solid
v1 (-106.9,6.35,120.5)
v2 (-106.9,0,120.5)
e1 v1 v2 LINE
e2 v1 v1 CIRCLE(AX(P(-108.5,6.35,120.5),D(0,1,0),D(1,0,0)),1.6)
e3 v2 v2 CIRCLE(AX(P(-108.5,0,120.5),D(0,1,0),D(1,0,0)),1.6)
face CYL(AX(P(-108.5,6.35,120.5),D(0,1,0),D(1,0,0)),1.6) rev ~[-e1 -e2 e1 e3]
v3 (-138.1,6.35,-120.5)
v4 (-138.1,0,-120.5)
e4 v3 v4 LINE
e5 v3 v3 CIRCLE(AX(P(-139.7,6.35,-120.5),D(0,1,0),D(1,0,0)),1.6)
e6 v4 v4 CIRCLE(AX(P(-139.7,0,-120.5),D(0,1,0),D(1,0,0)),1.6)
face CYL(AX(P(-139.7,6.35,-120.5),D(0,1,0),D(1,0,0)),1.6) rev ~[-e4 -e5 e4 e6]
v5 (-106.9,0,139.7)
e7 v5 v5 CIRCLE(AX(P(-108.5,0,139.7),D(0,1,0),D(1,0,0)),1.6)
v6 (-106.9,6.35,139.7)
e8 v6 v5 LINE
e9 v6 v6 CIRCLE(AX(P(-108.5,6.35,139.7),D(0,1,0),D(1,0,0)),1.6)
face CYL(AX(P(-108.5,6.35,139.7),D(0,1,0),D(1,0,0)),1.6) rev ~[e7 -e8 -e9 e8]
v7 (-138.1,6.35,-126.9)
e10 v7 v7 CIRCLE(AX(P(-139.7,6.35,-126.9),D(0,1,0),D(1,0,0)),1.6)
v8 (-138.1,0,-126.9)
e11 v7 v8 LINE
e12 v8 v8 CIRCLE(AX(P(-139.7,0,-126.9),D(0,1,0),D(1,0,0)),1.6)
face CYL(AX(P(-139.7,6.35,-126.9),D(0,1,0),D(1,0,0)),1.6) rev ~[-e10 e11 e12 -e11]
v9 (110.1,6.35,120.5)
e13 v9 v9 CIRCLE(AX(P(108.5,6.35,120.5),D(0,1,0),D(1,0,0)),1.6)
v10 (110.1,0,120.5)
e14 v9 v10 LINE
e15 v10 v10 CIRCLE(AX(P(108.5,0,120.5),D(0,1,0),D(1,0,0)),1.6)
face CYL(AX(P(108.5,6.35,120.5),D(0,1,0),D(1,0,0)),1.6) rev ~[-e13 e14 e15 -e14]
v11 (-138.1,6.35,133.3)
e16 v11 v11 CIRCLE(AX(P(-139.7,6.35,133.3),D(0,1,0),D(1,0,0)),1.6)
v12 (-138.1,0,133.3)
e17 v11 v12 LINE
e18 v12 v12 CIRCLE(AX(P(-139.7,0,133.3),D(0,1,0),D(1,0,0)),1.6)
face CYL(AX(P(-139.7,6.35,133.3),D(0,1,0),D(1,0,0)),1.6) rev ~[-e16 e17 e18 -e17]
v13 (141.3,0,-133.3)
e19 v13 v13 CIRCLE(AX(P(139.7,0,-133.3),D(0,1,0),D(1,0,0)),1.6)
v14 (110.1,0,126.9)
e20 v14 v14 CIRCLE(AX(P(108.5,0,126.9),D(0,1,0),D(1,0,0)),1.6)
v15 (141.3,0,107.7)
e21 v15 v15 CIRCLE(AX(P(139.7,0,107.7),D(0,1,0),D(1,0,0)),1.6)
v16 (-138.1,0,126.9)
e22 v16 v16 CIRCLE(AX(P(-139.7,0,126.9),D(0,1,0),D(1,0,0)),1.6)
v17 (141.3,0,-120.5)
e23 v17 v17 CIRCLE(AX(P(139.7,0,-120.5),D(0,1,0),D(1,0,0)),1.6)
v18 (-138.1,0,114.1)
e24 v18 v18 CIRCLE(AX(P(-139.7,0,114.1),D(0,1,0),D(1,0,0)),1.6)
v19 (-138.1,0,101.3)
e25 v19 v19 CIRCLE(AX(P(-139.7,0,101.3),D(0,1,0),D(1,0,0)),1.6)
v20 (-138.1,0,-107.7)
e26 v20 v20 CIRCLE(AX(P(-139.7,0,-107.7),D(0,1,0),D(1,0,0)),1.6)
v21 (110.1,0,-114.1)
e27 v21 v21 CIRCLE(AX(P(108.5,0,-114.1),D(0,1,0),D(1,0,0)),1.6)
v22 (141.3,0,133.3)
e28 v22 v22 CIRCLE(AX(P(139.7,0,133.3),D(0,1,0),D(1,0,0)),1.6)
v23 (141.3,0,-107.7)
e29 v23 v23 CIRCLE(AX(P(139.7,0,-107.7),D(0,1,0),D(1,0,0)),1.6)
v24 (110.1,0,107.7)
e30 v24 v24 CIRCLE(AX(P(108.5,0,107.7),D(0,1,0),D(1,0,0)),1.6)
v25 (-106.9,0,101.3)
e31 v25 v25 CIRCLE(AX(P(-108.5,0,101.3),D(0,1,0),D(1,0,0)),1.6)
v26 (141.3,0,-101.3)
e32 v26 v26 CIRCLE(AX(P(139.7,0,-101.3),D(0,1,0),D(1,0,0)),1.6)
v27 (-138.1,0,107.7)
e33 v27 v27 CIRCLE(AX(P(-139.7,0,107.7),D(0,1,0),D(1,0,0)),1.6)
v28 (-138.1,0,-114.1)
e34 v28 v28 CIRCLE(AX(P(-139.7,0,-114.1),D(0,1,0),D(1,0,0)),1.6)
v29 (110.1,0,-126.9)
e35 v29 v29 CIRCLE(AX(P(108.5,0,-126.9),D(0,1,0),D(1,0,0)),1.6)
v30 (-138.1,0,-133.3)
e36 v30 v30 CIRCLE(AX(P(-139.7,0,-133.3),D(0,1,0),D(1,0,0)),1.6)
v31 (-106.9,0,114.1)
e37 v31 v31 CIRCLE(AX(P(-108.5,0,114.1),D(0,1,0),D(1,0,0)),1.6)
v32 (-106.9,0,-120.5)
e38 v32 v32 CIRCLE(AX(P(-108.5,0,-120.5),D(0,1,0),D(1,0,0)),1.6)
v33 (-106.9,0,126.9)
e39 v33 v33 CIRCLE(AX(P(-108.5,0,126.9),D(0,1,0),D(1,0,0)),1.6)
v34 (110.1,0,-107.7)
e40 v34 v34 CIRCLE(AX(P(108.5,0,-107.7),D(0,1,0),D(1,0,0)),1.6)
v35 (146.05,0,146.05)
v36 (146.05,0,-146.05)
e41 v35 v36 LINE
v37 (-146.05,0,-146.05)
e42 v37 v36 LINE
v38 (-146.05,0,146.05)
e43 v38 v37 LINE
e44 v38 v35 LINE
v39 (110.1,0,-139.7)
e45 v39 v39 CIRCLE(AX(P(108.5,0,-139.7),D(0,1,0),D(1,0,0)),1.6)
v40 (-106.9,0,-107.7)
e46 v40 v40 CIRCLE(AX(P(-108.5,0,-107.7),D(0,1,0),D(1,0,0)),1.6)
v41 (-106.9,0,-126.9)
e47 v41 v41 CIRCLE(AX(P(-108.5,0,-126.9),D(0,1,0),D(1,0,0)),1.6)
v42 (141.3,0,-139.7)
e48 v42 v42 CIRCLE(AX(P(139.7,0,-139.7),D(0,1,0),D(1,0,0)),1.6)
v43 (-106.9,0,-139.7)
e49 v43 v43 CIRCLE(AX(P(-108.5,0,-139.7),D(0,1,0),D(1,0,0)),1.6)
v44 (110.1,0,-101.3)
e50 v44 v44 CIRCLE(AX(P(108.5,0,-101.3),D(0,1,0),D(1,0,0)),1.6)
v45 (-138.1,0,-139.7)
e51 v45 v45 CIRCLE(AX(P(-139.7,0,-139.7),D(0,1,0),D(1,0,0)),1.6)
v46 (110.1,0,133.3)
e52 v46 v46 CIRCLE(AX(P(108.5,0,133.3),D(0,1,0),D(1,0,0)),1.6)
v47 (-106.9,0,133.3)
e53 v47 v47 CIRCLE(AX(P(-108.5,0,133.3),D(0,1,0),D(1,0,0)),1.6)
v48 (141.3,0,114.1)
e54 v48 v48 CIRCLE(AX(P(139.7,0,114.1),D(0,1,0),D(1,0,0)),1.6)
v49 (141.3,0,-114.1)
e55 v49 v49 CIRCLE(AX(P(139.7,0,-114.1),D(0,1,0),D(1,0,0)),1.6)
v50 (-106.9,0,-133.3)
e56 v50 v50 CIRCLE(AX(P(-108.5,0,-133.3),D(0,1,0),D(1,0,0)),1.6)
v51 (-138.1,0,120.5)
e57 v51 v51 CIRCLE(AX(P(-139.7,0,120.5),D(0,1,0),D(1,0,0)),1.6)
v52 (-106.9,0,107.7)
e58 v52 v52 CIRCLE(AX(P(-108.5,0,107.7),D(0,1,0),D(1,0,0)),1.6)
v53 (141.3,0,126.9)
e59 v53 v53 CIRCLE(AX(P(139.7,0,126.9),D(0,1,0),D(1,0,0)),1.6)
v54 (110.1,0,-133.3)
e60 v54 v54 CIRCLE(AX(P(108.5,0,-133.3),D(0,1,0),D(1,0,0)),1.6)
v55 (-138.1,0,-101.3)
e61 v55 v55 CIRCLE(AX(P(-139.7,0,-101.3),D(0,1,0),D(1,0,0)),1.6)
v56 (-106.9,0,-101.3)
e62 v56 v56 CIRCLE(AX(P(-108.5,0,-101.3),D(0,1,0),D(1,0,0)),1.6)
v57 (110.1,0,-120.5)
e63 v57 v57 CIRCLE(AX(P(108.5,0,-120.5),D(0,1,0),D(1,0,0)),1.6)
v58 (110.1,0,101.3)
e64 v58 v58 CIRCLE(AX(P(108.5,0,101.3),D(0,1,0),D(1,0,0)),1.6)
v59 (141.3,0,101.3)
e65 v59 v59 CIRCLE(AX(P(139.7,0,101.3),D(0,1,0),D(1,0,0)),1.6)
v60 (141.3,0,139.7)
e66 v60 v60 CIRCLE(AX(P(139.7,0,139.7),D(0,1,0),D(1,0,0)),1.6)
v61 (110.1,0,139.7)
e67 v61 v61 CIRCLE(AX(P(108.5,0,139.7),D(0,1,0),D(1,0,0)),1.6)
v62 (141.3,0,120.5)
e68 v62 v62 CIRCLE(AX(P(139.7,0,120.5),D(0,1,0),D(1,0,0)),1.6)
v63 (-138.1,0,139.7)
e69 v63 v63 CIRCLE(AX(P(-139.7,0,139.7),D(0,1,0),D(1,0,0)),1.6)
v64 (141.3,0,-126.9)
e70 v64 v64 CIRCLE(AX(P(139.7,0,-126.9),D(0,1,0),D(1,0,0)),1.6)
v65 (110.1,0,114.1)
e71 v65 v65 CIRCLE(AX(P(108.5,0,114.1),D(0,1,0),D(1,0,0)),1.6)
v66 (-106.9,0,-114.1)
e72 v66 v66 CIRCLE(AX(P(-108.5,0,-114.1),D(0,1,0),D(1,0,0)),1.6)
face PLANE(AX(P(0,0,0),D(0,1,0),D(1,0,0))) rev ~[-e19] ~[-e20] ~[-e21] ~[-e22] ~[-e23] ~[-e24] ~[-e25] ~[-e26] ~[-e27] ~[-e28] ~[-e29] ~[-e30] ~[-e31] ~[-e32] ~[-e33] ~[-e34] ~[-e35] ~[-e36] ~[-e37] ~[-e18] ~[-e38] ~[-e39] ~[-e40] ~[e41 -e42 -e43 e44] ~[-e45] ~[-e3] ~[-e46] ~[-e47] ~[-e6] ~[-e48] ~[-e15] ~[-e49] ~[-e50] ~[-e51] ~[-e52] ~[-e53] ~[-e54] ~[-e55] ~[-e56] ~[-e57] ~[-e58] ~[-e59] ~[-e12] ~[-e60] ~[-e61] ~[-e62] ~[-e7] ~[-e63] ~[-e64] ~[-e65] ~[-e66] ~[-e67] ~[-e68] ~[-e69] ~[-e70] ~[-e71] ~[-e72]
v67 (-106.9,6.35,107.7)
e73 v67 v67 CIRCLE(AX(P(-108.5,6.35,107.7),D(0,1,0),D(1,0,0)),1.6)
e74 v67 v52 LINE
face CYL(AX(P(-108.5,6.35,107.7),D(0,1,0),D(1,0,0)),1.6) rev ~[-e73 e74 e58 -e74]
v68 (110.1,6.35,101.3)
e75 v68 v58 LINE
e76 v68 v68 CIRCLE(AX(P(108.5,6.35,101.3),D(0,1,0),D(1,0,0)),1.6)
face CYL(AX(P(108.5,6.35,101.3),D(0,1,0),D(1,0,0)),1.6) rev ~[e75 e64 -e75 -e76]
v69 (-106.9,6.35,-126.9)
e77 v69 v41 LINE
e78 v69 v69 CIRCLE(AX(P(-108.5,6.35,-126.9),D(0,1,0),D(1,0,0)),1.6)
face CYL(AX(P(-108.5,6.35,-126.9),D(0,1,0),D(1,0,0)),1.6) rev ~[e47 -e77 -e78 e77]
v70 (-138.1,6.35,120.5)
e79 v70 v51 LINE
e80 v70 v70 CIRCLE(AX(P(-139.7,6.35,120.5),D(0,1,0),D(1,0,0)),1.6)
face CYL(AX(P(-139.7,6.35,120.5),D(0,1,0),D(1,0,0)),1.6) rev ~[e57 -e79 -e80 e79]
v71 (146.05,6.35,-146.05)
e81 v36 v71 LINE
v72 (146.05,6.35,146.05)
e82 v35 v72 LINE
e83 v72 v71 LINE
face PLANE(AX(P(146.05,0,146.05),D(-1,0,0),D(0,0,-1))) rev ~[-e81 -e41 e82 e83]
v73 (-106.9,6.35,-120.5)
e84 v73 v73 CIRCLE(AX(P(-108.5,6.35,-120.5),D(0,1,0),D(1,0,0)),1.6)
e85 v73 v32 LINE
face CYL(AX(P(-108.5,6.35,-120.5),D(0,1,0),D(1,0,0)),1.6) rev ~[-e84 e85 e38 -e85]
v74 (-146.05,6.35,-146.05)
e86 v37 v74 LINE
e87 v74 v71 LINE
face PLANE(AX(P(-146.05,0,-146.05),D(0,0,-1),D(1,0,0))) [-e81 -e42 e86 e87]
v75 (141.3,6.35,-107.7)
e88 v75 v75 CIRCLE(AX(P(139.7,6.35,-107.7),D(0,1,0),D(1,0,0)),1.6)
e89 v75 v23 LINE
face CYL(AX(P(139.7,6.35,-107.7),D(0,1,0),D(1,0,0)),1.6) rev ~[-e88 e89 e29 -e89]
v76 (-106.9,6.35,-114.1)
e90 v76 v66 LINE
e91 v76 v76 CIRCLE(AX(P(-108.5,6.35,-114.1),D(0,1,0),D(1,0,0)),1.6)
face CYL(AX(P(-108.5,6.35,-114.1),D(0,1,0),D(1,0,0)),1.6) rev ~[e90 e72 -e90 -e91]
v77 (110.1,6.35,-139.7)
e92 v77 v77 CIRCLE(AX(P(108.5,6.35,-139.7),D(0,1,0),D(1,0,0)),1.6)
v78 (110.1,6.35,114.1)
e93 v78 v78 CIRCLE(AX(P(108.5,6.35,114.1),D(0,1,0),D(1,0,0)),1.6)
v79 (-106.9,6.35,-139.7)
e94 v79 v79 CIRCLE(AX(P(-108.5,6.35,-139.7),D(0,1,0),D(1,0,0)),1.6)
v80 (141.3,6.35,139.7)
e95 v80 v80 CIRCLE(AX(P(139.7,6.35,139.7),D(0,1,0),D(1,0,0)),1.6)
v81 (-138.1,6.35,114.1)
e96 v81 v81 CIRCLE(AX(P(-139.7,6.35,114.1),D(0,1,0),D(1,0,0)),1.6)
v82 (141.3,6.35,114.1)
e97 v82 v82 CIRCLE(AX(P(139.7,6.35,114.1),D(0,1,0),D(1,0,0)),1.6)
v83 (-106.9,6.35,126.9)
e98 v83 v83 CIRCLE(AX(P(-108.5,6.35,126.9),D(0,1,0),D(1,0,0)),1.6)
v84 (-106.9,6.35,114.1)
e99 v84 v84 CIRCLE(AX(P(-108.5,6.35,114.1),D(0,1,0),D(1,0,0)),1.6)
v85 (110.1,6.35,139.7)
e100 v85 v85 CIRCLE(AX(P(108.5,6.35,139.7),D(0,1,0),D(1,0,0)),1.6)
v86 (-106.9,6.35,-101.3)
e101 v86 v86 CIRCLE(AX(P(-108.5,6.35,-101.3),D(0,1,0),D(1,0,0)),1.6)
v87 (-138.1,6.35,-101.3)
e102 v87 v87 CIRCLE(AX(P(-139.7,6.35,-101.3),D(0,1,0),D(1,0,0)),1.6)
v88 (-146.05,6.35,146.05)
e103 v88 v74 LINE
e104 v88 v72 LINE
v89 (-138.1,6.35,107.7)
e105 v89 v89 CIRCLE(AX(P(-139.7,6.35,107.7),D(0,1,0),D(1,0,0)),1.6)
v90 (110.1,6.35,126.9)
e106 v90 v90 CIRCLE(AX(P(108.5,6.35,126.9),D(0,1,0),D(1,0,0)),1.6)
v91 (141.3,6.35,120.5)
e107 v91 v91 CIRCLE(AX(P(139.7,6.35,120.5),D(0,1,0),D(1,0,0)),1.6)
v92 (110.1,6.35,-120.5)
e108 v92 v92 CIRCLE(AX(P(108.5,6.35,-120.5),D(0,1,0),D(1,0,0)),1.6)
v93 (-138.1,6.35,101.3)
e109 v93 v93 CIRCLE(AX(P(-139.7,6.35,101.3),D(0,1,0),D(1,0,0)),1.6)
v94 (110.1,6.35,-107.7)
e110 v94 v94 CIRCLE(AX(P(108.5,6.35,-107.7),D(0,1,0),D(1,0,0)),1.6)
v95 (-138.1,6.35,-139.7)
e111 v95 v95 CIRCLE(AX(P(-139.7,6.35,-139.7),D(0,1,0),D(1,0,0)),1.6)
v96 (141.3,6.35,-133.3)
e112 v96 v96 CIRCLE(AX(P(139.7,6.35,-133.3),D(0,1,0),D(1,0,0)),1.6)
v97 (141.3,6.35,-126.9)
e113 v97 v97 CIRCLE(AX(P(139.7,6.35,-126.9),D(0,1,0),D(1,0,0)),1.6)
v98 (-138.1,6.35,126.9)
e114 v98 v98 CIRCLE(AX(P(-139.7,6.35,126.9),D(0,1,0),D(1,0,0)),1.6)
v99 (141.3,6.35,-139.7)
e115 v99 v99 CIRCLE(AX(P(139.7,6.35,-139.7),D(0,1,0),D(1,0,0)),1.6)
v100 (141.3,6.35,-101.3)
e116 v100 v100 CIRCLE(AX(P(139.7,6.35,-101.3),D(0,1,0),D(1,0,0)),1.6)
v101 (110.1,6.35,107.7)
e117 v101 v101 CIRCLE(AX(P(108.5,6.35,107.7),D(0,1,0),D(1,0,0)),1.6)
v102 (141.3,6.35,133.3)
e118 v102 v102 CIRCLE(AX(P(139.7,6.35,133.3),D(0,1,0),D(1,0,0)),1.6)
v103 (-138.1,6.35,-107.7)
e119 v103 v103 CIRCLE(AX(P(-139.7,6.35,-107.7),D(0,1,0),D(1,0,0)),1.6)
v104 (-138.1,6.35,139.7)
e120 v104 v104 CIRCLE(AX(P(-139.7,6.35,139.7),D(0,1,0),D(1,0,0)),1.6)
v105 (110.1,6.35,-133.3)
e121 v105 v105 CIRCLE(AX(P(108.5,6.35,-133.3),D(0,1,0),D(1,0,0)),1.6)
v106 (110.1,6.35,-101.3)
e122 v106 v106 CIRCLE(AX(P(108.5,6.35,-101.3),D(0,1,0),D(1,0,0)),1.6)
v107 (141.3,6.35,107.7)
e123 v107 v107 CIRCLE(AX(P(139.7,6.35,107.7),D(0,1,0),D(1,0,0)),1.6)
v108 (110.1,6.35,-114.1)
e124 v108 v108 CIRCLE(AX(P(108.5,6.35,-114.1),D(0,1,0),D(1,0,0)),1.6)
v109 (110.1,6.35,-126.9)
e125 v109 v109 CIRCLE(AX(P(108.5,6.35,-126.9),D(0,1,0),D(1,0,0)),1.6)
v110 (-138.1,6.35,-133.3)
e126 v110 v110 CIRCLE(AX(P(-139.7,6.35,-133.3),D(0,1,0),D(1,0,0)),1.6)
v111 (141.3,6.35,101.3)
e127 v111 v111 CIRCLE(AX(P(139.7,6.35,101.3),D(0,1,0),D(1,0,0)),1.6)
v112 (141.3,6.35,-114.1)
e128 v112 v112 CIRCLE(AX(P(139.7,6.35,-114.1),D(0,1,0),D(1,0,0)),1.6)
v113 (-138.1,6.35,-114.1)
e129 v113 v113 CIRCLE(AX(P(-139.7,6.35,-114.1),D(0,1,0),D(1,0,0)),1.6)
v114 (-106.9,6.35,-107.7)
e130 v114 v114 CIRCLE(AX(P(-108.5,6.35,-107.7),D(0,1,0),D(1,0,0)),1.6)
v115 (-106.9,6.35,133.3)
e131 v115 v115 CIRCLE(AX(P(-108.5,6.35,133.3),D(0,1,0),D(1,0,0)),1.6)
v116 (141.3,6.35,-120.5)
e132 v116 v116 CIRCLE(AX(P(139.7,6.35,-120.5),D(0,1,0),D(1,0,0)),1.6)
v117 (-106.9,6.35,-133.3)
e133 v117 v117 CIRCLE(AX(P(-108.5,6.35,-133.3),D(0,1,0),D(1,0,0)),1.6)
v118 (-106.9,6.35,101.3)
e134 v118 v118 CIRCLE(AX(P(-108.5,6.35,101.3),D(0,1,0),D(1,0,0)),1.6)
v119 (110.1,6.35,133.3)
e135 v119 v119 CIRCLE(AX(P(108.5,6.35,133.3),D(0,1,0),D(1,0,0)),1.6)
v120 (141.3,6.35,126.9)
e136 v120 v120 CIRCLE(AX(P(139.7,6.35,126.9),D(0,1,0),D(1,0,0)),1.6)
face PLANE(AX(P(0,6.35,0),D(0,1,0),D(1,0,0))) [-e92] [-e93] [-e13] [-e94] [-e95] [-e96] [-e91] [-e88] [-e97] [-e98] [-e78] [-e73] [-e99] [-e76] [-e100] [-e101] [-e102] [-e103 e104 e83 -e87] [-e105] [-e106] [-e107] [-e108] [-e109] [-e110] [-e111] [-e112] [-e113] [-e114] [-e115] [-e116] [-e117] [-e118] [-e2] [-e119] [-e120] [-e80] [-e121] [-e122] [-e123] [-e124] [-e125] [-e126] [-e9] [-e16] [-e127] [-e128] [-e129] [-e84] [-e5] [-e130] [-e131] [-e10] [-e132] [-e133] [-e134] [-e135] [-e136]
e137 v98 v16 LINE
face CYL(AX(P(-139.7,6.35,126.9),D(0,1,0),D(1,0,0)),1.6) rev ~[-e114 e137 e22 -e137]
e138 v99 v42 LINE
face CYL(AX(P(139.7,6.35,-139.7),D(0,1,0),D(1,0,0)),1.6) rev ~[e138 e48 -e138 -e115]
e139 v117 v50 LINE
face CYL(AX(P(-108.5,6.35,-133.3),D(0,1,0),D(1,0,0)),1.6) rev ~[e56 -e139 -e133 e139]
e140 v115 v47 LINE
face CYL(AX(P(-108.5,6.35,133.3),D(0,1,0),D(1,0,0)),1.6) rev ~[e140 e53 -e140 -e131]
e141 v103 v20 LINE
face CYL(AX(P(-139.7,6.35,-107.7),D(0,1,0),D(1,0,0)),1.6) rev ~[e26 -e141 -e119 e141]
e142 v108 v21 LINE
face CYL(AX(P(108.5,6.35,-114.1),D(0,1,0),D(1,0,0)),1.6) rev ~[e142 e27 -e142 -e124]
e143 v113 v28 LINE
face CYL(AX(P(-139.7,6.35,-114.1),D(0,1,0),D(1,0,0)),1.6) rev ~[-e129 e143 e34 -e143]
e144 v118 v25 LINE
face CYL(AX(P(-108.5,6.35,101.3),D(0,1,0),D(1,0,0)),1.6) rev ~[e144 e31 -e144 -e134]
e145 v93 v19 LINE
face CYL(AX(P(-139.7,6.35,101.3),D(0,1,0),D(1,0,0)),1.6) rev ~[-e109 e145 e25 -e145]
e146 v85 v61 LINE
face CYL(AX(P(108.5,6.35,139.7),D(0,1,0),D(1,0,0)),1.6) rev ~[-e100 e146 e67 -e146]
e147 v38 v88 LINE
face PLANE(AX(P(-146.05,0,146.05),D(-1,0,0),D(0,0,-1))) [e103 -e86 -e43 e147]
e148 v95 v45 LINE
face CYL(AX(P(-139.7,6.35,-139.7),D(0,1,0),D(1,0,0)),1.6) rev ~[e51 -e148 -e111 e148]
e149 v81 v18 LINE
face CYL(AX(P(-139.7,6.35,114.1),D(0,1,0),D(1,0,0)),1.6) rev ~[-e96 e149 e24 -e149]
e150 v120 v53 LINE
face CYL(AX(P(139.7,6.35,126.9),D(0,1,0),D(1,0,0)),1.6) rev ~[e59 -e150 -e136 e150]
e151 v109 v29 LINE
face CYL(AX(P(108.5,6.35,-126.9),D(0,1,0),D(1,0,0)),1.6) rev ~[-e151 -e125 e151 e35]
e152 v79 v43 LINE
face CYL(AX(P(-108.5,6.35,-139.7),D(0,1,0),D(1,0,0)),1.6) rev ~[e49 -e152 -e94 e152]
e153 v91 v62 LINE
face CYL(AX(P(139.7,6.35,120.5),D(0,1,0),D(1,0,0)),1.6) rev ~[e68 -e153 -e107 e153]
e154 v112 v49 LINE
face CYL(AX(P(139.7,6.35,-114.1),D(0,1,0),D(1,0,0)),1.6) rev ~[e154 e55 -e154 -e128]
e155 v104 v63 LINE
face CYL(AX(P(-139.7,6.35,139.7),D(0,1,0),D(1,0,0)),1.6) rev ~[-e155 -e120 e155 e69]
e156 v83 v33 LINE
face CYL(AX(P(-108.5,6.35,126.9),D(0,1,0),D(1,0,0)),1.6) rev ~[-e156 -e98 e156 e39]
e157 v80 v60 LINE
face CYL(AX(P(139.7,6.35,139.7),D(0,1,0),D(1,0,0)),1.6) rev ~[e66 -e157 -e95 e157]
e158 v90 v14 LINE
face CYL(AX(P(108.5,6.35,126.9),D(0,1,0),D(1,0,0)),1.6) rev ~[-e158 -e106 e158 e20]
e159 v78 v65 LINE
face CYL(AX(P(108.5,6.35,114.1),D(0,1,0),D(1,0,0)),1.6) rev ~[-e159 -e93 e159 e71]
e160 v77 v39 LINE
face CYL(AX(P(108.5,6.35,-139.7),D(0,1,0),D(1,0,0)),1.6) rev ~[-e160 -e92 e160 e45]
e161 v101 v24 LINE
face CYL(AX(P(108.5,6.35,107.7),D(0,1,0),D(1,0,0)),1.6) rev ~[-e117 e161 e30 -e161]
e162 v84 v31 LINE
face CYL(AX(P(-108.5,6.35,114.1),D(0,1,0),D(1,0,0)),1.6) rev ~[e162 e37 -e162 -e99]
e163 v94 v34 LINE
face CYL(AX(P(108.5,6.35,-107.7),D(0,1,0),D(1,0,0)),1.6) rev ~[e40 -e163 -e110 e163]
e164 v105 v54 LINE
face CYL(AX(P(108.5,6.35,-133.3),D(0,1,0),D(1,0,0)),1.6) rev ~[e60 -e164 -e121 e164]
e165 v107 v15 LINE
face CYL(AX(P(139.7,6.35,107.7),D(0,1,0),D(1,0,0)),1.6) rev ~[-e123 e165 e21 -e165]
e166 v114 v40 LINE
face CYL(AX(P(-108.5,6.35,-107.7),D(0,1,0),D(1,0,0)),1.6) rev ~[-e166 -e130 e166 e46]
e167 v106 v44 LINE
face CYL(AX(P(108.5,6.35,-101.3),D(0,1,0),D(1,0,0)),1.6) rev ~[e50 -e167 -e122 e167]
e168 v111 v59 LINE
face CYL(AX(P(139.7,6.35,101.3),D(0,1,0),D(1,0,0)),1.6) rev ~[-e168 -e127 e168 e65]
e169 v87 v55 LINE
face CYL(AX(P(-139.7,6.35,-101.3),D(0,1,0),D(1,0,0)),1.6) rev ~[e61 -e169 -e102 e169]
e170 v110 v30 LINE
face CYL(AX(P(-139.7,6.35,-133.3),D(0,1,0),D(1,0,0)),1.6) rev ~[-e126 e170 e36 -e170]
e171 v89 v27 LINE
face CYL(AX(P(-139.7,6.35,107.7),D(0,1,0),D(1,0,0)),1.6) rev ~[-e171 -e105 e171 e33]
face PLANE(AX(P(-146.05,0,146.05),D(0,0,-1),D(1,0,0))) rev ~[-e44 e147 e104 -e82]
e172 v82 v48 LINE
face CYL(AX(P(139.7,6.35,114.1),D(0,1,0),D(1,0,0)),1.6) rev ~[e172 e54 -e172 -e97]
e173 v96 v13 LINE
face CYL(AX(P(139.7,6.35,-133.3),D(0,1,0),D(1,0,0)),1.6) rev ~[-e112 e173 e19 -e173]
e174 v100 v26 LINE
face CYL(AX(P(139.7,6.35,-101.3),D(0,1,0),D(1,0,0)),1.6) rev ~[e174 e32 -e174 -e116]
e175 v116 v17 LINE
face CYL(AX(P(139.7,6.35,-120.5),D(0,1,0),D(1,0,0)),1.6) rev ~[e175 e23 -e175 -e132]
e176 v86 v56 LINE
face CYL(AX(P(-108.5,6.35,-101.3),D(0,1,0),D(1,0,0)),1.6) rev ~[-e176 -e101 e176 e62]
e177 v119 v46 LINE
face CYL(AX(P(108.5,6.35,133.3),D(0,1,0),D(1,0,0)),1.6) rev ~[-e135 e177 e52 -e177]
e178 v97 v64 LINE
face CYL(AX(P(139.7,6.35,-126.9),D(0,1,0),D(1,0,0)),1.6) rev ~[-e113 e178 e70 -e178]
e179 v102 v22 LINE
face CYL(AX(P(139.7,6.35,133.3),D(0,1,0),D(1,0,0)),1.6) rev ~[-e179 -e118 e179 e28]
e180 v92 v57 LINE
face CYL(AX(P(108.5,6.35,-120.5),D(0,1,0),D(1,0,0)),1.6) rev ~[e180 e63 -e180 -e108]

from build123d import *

# Parameters (mm, degrees)
SKETCH1_W           = 292.1
SKETCH1_H           = 292.1
BOSS_EXTRUDE1_DEPTH = 6.35
SKETCH2_R           = 1.6
CUT_EXTRUDE2_DEPTH  = 7.35


with BuildPart() as part:
    # Sketch1 → Boss-Extrude1 (new body)
    with BuildSketch(Plane(origin=(0, 0, 0), x_dir=(1, 0, 0), z_dir=(0, 1, 0))):
        Rectangle(SKETCH1_W, SKETCH1_H)
    extrude(amount=BOSS_EXTRUDE1_DEPTH)

    # Sketch2 → Cut-Extrude2 (cut, through all)
    with BuildSketch(Plane(origin=(0, 6.35, 0), x_dir=(1, 0, 0), z_dir=(0, 1, 0))):
        with Locations((-139.7, -139.7)):
            Circle(SKETCH2_R)
        with Locations((-139.7, -133.3)):
            Circle(SKETCH2_R)
        with Locations((-139.7, -126.9)):
            Circle(SKETCH2_R)
        with Locations((-139.7, -120.5)):
            Circle(SKETCH2_R)
        with Locations((-139.7, -114.1)):
            Circle(SKETCH2_R)
        with Locations((-139.7, -107.7)):
            Circle(SKETCH2_R)
        with Locations((-139.7, -101.3)):
            Circle(SKETCH2_R)
        with Locations((-139.7, 101.3)):
            Circle(SKETCH2_R)
        with Locations((-139.7, 107.7)):
            Circle(SKETCH2_R)
        with Locations((-139.7, 114.1)):
            Circle(SKETCH2_R)
        with Locations((-139.7, 120.5)):
            Circle(SKETCH2_R)
        with Locations((-139.7, 126.9)):
            Circle(SKETCH2_R)
        with Locations((-139.7, 133.3)):
            Circle(SKETCH2_R)
        with Locations((-139.7, 139.7)):
            Circle(SKETCH2_R)
        with Locations((-108.5, 139.7)):
            Circle(SKETCH2_R)
        with Locations((-108.5, 133.3)):
            Circle(SKETCH2_R)
        with Locations((-108.5, 126.9)):
            Circle(SKETCH2_R)
        with Locations((-108.5, 120.5)):
            Circle(SKETCH2_R)
        with Locations((-108.5, 114.1)):
            Circle(SKETCH2_R)
        with Locations((-108.5, 107.7)):
            Circle(SKETCH2_R)
        with Locations((-108.5, 101.3)):
            Circle(SKETCH2_R)
        with Locations((-108.5, -101.3)):
            Circle(SKETCH2_R)
        with Locations((-108.5, -107.7)):
            Circle(SKETCH2_R)
        with Locations((-108.5, -114.1)):
            Circle(SKETCH2_R)
        with Locations((-108.5, -120.5)):
            Circle(SKETCH2_R)
        with Locations((-108.5, -126.9)):
            Circle(SKETCH2_R)
        with Locations((-108.5, -133.3)):
            Circle(SKETCH2_R)
        with Locations((-108.5, -139.7)):
            Circle(SKETCH2_R)
        with Locations((108.5, -139.7)):
            Circle(SKETCH2_R)
        with Locations((108.5, -133.3)):
            Circle(SKETCH2_R)
        with Locations((108.5, -126.9)):
            Circle(SKETCH2_R)
        with Locations((108.5, -120.5)):
            Circle(SKETCH2_R)
        with Locations((108.5, -114.1)):
            Circle(SKETCH2_R)
        with Locations((108.5, -107.7)):
            Circle(SKETCH2_R)
        with Locations((108.5, -101.3)):
            Circle(SKETCH2_R)
        with Locations((108.5, 101.3)):
            Circle(SKETCH2_R)
        with Locations((108.5, 107.7)):
            Circle(SKETCH2_R)
        with Locations((108.5, 114.1)):
            Circle(SKETCH2_R)
        with Locations((108.5, 120.5)):
            Circle(SKETCH2_R)
        with Locations((108.5, 126.9)):
            Circle(SKETCH2_R)
        with Locations((108.5, 133.3)):
            Circle(SKETCH2_R)
        with Locations((108.5, 139.7)):
            Circle(SKETCH2_R)
        with Locations((139.7, 139.7)):
            Circle(SKETCH2_R)
        with Locations((139.7, 133.3)):
            Circle(SKETCH2_R)
        with Locations((139.7, 126.9)):
            Circle(SKETCH2_R)
        with Locations((139.7, 120.5)):
            Circle(SKETCH2_R)
        with Locations((139.7, 114.1)):
            Circle(SKETCH2_R)
        with Locations((139.7, 107.7)):
            Circle(SKETCH2_R)
        with Locations((139.7, 101.3)):
            Circle(SKETCH2_R)
        with Locations((139.7, -101.3)):
            Circle(SKETCH2_R)
        with Locations((139.7, -107.7)):
            Circle(SKETCH2_R)
        with Locations((139.7, -114.1)):
            Circle(SKETCH2_R)
        with Locations((139.7, -120.5)):
            Circle(SKETCH2_R)
        with Locations((139.7, -126.9)):
            Circle(SKETCH2_R)
        with Locations((139.7, -133.3)):
            Circle(SKETCH2_R)
        with Locations((139.7, -139.7)):
            Circle(SKETCH2_R)
    extrude(amount=-CUT_EXTRUDE2_DEPTH, mode=Mode.SUBTRACT)


solid = part.part
